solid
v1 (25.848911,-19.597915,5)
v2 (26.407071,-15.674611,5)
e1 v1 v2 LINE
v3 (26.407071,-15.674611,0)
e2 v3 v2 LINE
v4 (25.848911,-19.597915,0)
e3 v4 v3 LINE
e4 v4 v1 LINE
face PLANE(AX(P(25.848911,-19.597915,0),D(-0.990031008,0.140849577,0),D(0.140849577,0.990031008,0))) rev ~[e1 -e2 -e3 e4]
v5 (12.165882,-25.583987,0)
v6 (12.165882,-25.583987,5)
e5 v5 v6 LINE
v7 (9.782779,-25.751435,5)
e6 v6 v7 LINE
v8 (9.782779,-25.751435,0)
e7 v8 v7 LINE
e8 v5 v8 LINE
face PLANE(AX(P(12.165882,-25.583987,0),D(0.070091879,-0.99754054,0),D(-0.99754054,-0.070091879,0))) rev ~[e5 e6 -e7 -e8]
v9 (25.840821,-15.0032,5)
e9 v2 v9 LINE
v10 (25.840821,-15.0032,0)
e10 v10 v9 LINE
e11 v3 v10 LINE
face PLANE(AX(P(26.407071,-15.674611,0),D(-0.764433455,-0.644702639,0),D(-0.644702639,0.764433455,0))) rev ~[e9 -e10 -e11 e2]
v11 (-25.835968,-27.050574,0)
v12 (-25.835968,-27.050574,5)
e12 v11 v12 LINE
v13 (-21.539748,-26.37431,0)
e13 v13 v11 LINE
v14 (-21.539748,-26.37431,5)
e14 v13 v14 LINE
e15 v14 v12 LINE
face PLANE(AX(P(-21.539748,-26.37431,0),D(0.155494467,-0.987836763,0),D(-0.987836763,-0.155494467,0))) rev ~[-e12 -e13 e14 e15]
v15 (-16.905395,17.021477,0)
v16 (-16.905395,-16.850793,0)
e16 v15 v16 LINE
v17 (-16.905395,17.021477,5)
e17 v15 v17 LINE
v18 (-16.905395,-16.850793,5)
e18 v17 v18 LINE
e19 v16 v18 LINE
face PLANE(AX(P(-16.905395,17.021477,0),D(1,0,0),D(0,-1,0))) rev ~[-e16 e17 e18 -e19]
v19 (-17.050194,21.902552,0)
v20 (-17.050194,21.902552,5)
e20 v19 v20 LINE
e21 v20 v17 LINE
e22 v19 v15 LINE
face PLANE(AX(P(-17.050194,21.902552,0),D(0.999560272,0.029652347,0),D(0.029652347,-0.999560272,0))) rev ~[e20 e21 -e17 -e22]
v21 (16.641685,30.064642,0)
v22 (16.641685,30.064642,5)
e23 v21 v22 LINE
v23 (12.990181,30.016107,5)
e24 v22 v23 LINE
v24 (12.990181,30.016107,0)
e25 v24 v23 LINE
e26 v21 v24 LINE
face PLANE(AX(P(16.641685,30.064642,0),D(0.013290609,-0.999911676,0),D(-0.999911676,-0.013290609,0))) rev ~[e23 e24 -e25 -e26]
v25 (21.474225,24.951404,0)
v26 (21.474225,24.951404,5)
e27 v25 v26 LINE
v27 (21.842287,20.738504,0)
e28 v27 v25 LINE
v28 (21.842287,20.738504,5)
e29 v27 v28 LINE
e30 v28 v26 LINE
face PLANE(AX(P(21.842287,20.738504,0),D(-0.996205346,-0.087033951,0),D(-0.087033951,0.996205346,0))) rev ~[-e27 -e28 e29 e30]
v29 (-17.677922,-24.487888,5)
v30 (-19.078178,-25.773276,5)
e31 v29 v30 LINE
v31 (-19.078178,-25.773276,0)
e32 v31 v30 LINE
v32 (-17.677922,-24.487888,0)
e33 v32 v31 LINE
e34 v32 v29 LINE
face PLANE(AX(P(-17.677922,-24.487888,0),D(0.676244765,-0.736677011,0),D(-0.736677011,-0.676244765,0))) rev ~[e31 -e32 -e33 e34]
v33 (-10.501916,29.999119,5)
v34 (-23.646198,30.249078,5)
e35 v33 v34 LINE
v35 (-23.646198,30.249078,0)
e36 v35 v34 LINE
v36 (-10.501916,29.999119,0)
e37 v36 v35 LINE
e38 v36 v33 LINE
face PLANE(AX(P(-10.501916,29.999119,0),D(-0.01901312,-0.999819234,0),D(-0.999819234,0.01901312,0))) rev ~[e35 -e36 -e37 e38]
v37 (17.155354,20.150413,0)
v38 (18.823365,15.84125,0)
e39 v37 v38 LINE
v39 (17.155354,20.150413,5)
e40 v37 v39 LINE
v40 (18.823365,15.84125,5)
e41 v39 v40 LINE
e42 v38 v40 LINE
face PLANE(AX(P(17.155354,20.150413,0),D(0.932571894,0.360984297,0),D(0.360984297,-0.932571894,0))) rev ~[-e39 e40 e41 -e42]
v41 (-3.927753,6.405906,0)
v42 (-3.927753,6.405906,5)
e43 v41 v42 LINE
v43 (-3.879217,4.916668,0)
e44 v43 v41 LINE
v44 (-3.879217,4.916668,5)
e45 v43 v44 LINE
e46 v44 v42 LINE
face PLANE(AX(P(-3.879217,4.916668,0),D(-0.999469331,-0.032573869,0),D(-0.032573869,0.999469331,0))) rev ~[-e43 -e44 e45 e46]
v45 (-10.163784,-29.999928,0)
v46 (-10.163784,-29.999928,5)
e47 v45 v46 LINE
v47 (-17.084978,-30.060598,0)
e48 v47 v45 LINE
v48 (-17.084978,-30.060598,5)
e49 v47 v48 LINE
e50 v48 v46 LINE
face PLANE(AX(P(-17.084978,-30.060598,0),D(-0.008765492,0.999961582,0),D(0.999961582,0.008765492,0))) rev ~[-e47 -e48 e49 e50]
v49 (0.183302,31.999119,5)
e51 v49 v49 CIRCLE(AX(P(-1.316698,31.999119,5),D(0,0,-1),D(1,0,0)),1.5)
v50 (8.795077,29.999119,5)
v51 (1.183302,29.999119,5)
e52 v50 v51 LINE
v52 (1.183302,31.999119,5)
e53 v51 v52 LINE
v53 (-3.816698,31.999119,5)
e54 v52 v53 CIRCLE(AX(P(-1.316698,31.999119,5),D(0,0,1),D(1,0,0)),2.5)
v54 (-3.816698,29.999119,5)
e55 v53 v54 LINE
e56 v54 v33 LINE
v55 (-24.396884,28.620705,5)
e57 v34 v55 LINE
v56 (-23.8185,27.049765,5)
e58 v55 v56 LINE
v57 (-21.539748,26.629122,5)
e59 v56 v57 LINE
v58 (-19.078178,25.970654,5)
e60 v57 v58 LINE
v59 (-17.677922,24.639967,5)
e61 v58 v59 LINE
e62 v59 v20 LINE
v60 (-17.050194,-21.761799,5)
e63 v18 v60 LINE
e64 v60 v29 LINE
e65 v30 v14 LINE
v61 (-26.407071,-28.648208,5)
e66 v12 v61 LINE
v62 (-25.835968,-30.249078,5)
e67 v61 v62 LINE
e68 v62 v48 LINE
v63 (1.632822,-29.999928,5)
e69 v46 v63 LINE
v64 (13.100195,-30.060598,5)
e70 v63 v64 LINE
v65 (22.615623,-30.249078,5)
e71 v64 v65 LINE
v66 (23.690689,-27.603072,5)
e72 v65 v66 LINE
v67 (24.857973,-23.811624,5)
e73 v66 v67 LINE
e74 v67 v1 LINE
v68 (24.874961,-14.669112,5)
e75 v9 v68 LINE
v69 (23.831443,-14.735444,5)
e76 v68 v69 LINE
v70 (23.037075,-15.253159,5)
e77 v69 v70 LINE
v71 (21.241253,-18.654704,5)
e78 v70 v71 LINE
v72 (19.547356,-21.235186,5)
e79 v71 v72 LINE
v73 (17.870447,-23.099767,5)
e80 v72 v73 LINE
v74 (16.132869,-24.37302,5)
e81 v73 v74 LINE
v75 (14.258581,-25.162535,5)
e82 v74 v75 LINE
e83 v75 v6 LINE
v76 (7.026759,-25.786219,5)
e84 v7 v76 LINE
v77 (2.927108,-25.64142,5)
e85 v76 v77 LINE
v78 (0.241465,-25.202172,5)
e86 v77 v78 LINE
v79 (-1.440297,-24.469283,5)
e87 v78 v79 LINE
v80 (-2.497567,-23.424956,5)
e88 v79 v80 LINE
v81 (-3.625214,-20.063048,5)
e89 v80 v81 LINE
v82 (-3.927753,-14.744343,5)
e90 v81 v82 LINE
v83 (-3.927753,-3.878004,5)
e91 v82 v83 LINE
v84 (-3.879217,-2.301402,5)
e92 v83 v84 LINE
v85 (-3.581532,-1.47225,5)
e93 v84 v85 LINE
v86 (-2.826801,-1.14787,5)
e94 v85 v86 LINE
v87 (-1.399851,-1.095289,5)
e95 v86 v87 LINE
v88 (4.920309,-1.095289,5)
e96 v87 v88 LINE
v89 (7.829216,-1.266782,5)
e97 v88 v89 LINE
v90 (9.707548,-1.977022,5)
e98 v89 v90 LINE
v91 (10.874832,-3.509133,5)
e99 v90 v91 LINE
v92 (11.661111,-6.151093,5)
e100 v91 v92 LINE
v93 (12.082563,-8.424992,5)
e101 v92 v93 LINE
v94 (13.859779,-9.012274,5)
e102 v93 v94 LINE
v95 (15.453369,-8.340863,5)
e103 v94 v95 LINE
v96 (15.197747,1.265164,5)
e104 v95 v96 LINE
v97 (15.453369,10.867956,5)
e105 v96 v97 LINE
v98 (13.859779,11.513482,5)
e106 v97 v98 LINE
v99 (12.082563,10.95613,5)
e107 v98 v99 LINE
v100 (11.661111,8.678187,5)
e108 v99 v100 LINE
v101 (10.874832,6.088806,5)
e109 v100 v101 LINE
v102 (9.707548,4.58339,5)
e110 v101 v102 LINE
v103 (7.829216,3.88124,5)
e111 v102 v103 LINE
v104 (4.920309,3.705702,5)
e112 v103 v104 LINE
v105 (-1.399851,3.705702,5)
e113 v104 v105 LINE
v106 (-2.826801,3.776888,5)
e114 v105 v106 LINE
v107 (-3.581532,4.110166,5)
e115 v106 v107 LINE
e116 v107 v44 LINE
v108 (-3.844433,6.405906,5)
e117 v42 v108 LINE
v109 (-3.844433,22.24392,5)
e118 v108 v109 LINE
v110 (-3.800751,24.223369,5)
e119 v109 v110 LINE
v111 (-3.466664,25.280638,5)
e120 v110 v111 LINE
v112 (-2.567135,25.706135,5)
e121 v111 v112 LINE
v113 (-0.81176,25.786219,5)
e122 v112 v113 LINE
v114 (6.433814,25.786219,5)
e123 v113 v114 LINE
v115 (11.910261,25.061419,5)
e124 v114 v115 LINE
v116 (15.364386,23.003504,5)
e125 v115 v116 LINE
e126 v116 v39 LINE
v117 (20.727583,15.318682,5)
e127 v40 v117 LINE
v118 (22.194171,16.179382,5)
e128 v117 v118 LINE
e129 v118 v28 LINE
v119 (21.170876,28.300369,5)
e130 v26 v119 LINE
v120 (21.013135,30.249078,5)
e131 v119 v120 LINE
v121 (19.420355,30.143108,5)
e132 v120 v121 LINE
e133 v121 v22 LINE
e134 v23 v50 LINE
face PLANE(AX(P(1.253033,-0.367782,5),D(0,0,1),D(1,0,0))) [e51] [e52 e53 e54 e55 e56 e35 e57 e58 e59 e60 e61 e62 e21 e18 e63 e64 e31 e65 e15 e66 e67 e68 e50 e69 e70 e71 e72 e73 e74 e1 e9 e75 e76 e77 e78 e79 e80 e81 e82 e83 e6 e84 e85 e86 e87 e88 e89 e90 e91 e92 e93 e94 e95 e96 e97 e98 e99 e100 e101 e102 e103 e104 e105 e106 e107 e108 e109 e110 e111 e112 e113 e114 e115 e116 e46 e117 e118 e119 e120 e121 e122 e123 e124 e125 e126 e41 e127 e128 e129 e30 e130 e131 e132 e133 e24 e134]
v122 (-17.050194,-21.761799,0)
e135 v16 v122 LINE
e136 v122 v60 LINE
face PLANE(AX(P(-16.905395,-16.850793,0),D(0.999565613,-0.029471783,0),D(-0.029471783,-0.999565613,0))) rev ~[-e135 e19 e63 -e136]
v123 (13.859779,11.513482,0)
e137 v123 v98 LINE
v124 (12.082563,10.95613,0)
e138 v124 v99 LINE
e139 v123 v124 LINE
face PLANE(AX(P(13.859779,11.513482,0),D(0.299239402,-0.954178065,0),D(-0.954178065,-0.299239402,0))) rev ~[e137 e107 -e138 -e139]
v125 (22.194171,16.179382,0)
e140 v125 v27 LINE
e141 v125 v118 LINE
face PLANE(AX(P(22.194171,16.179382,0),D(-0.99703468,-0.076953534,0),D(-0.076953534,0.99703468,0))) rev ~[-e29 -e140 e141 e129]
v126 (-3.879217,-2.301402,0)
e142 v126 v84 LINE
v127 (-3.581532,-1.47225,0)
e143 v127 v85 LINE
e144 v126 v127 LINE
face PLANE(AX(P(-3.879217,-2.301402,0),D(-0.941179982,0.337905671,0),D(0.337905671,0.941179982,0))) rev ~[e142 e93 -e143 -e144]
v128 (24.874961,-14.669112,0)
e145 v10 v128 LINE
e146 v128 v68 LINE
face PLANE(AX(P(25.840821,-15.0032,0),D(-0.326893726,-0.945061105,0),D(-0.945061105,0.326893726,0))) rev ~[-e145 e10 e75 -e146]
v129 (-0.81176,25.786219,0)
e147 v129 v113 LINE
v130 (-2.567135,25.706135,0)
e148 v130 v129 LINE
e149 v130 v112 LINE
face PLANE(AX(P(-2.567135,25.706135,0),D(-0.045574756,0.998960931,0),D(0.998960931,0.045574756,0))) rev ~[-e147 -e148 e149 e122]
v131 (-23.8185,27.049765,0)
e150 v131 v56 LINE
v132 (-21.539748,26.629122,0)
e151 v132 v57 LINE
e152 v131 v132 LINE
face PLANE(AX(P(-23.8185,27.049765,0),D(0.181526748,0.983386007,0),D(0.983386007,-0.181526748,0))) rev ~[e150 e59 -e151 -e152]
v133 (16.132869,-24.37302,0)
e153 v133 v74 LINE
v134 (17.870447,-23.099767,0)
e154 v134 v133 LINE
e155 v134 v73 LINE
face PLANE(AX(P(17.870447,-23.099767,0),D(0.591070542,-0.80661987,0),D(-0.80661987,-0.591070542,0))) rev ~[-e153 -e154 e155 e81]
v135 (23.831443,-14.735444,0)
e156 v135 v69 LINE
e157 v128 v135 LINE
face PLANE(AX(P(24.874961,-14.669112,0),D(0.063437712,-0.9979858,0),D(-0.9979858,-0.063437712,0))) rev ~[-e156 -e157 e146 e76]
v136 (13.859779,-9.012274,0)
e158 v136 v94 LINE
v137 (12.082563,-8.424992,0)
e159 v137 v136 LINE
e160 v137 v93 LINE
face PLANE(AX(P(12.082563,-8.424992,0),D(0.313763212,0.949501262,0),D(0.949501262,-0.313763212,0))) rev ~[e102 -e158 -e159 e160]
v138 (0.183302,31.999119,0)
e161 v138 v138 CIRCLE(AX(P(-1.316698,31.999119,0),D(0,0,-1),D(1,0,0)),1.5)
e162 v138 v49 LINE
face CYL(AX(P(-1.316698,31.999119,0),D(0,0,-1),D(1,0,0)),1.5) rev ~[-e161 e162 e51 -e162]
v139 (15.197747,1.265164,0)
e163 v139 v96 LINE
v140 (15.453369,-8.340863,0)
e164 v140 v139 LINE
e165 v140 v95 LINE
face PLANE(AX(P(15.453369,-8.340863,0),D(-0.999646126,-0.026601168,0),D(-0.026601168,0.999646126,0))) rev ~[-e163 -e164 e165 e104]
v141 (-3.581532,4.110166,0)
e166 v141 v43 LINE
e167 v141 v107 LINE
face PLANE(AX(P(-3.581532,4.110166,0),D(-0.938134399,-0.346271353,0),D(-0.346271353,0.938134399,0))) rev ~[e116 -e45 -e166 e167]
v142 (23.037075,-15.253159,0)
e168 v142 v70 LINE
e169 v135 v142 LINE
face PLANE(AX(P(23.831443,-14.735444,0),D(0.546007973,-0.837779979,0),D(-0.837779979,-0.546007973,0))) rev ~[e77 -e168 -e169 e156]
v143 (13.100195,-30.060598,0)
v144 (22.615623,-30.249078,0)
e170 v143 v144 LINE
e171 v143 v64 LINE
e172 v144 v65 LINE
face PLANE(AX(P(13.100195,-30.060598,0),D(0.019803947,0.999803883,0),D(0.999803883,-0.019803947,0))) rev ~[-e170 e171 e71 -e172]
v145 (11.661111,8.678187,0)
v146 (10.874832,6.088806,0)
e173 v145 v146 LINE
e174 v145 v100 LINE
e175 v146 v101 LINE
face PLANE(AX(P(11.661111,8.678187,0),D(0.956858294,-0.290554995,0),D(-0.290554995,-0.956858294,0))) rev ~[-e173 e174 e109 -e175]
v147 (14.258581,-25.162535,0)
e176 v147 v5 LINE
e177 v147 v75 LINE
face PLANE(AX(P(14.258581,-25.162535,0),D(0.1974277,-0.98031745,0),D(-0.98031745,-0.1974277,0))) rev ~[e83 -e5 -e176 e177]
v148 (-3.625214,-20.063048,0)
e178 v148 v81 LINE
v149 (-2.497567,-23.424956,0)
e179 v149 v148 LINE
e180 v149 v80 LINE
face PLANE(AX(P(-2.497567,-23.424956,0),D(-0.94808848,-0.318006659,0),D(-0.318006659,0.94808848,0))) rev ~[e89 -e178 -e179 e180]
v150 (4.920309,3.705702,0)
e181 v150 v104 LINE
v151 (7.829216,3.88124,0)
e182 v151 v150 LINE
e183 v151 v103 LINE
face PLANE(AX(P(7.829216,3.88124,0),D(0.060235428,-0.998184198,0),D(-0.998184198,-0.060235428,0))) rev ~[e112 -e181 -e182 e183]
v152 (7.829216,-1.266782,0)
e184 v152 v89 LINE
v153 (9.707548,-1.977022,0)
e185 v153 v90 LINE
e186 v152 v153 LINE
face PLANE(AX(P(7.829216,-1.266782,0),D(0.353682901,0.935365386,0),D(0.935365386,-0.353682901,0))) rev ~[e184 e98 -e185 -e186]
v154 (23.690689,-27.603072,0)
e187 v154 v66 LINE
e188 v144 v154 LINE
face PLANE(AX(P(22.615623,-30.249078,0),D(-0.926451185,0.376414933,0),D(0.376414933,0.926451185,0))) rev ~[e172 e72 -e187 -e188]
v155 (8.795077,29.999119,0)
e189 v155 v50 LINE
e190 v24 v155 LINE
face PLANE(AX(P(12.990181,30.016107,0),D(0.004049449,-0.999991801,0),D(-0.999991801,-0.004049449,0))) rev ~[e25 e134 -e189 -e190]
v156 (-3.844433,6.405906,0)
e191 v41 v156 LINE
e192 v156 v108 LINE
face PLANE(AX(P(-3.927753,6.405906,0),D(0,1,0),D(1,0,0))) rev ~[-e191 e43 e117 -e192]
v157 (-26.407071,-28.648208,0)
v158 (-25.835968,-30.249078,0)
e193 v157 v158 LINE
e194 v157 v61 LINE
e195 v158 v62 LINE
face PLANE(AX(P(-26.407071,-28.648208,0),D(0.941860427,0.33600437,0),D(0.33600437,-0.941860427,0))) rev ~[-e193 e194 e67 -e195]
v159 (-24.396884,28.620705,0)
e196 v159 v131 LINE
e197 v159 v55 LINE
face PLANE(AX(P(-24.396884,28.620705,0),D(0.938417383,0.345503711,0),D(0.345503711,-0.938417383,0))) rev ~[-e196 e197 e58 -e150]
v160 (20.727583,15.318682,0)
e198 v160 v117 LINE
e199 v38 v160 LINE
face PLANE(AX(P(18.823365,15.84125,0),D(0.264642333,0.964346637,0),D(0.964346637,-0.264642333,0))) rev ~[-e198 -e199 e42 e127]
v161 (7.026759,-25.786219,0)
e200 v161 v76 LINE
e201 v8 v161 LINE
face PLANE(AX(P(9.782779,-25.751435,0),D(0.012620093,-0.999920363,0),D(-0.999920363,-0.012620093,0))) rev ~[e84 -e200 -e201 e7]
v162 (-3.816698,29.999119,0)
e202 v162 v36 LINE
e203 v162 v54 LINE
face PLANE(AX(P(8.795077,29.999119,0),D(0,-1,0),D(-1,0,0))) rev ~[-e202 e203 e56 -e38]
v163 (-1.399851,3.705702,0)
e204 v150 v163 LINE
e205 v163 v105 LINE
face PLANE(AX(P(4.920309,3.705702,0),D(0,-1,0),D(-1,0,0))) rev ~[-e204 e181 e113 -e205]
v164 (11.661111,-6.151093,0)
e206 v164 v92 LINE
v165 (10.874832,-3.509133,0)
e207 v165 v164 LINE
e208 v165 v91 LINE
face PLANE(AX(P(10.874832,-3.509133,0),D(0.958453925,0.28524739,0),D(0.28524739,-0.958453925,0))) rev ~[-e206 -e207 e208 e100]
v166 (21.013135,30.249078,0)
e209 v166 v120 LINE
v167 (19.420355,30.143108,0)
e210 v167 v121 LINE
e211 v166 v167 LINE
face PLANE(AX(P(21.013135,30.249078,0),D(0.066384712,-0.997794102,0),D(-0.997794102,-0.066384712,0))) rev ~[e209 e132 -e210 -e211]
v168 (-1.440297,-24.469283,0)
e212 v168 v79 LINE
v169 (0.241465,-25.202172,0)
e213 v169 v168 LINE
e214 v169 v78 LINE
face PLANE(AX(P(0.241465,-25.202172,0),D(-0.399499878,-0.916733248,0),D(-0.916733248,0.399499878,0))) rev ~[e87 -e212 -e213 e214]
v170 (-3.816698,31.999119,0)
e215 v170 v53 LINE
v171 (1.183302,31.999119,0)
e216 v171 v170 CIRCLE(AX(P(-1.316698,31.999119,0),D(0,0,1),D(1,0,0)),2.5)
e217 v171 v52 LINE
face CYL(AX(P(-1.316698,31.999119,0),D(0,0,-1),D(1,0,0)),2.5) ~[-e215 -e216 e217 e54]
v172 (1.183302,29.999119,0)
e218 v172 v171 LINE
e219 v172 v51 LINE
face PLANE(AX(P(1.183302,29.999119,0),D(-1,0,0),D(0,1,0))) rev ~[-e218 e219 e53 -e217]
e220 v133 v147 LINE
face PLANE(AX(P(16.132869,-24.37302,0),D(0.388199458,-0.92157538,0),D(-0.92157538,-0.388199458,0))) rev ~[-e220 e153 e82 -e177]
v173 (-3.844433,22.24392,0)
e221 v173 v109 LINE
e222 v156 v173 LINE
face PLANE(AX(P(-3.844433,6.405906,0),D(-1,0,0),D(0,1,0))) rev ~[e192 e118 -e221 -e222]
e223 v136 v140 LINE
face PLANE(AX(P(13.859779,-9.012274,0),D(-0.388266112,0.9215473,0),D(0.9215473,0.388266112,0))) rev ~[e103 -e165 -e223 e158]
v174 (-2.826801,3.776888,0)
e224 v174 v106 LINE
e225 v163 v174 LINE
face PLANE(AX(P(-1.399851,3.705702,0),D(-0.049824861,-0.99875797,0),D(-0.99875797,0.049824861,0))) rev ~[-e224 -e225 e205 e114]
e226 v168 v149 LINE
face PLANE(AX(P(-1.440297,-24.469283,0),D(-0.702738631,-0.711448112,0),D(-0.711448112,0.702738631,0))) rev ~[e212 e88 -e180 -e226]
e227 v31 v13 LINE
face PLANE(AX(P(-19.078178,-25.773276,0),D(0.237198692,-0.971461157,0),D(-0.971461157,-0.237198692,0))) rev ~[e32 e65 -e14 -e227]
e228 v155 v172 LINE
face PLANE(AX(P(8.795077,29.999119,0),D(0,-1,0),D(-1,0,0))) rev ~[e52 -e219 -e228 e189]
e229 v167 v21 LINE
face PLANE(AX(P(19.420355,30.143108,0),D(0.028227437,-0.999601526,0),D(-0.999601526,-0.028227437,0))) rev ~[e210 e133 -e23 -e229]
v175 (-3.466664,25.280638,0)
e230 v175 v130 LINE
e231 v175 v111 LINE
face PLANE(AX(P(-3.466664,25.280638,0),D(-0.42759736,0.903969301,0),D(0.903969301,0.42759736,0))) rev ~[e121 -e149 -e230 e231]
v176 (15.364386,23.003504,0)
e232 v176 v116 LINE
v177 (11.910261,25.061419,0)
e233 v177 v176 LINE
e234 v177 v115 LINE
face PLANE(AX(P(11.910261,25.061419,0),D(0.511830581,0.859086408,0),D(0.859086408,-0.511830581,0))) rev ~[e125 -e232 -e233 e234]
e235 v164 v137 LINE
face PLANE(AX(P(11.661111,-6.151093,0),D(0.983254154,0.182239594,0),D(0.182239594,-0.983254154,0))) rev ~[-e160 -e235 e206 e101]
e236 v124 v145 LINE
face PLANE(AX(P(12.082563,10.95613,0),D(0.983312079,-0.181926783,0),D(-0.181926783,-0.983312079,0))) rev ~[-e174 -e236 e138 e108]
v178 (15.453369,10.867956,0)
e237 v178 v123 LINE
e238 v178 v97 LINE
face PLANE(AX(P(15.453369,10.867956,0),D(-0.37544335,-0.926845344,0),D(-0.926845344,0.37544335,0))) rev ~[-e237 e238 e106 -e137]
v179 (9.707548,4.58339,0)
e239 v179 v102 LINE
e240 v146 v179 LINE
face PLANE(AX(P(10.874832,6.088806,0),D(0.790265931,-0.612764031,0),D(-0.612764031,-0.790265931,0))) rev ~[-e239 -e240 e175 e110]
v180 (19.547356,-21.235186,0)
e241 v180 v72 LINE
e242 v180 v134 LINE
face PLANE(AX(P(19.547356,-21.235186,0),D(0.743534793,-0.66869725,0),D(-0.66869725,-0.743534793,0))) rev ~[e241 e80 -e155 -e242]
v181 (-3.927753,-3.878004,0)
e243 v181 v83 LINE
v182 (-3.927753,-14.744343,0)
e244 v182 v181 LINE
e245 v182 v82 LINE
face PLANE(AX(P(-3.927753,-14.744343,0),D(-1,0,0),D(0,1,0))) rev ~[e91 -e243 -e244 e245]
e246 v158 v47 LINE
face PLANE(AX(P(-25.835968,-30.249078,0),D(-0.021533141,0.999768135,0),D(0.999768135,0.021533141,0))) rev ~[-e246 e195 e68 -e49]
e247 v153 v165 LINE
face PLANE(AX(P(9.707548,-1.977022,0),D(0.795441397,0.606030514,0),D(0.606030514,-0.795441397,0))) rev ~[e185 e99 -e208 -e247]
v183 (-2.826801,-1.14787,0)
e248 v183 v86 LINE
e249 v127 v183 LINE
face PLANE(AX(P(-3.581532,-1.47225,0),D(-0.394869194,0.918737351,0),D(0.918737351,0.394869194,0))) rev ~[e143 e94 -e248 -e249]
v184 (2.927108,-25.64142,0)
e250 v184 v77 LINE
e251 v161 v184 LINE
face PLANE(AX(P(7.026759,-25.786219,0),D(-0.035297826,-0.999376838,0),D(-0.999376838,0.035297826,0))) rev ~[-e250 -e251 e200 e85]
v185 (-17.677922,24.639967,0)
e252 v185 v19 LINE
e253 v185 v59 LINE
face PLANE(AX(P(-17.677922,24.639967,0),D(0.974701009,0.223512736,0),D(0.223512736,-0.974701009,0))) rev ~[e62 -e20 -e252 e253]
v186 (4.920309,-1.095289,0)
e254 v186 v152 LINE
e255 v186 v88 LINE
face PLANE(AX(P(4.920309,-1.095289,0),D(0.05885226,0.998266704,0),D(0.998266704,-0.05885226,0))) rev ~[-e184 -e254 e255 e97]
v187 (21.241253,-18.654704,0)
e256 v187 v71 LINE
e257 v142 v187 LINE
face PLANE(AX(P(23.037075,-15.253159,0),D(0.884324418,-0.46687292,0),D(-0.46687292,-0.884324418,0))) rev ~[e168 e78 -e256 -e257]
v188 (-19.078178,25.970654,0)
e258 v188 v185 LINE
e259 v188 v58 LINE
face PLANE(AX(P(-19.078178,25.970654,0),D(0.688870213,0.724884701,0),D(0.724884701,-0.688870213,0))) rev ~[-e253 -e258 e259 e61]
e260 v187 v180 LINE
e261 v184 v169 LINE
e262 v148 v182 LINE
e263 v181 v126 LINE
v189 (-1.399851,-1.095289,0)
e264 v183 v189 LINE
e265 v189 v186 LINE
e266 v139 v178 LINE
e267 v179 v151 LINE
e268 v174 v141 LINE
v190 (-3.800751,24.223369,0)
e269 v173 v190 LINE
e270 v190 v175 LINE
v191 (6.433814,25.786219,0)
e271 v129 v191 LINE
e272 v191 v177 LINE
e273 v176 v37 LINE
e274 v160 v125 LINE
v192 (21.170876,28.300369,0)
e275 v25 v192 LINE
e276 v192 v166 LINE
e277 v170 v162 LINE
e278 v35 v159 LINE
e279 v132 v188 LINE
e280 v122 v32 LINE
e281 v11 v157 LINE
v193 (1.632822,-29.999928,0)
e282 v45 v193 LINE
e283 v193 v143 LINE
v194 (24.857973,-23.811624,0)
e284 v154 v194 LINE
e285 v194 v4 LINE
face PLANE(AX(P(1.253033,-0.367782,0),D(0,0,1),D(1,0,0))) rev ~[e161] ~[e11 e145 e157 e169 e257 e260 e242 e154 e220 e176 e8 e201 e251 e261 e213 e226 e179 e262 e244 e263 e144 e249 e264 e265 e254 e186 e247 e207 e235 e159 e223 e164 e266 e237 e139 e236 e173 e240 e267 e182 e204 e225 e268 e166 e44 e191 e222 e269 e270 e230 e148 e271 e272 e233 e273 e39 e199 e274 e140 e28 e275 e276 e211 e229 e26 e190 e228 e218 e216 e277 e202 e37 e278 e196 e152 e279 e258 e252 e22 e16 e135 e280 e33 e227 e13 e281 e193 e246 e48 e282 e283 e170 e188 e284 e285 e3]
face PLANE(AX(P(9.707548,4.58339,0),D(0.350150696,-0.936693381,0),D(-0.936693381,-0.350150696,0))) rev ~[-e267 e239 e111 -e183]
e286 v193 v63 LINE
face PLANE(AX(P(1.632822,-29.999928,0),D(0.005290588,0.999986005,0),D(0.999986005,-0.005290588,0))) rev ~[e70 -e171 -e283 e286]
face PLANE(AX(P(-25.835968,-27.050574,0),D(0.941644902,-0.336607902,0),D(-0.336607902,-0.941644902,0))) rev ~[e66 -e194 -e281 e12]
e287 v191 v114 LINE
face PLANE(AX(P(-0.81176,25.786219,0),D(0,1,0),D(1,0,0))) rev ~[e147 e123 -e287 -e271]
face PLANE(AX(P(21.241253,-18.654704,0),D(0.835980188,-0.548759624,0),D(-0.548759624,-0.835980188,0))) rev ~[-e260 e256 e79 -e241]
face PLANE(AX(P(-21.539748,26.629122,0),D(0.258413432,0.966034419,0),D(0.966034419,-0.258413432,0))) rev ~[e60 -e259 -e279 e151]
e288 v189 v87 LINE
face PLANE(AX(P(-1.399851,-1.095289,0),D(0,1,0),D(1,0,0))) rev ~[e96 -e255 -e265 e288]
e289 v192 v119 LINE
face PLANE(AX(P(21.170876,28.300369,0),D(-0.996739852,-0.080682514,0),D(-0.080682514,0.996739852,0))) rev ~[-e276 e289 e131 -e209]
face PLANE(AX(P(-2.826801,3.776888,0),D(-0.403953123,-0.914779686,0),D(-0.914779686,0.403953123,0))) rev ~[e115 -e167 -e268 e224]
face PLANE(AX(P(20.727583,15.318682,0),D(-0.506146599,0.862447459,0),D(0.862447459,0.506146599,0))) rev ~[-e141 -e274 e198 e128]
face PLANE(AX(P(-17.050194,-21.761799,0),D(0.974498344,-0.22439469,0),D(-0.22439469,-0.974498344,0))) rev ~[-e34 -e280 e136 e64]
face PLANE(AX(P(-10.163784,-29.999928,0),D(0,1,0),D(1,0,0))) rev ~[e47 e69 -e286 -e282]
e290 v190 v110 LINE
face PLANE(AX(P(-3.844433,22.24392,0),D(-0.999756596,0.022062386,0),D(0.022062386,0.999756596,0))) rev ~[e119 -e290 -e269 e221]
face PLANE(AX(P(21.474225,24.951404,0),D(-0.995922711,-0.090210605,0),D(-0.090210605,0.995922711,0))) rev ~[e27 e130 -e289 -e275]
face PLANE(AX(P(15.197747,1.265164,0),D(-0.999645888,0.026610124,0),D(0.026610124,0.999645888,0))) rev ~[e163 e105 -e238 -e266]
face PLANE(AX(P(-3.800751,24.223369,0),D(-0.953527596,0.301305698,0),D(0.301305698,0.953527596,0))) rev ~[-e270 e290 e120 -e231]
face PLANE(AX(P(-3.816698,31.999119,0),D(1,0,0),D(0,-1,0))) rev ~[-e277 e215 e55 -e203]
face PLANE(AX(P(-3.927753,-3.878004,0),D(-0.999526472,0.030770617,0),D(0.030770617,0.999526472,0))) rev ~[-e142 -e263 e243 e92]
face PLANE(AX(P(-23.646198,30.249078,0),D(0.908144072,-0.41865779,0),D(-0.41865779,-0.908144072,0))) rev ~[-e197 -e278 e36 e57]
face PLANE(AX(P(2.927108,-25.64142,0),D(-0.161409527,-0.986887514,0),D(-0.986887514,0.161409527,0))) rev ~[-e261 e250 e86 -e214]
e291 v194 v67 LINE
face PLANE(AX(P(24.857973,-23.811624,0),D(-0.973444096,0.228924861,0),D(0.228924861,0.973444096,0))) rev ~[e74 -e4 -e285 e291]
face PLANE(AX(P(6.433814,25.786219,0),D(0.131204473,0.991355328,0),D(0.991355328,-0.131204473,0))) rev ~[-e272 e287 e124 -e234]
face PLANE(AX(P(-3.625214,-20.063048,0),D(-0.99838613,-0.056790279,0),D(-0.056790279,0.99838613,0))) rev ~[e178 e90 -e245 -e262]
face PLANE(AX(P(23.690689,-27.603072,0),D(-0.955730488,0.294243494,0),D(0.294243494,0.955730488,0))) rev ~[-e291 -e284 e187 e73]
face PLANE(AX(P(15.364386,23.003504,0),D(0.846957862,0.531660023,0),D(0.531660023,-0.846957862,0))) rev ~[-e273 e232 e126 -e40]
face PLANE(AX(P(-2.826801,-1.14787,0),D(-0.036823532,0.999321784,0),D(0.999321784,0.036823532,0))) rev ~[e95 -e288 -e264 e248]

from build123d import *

# Parameters (mm, degrees)
F1_DEPTH = 5
F3_DEPTH = 5


with BuildPart() as f1:
    # F0 (on Top) → F1 (new body)
    with BuildSketch(Plane.XY):
        Polygon((-3.879217, 4.916668), (-3.927753, 6.405906), (-3.844433, 6.405906), (-3.844433, 22.24392), (-3.800751, 24.223369), (-3.466664, 25.280638), (-2.567135, 25.706135), (-0.81176, 25.786219), (6.433814, 25.786219), (11.910261, 25.061419), (15.364386, 23.003504), (17.155354, 20.150413), (18.823365, 15.84125), (20.727583, 15.318682), (22.194171, 16.179382), (21.842287, 20.738504), (21.474225, 24.951404), (21.170876, 28.300369), (21.013135, 30.249078), (19.420355, 30.143108), (16.641685, 30.064642), (12.990181, 30.016107), (8.795077, 29.999119), (-10.501916, 29.999119), (-23.646198, 30.249078), (-24.396884, 28.620705), (-23.8185, 27.049765), (-21.539748, 26.629122), (-19.078178, 25.970654), (-17.677922, 24.639967), (-17.050194, 21.902552), (-16.905395, 17.021477), (-16.905395, -16.850793), (-17.050194, -21.761799), (-17.677922, -24.487888), (-19.078178, -25.773276), (-21.539748, -26.37431), (-25.835968, -27.050574), (-26.407071, -28.648208), (-25.835968, -30.249078), (-17.084978, -30.060598), (-10.163784, -29.999928), (1.632822, -29.999928), (13.100195, -30.060598), (22.615623, -30.249078), (23.690689, -27.603072), (24.857973, -23.811624), (25.848911, -19.597915), (26.407071, -15.674611), (25.840821, -15.0032), (24.874961, -14.669112), (23.831443, -14.735444), (23.037075, -15.253159), (21.241253, -18.654704), (19.547356, -21.235186), (17.870447, -23.099767), (16.132869, -24.37302), (14.258581, -25.162535), (12.165882, -25.583987), (9.782779, -25.751435), (7.026759, -25.786219), (2.927108, -25.64142), (0.241465, -25.202172), (-1.440297, -24.469283), (-2.497567, -23.424956), (-3.625214, -20.063048), (-3.927753, -14.744343), (-3.927753, -3.878004), (-3.879217, -2.301402), (-3.581532, -1.47225), (-2.826801, -1.14787), (-1.399851, -1.095289), (4.920309, -1.095289), (7.829216, -1.266782), (9.707548, -1.977022), (10.874832, -3.509133), (11.661111, -6.151093), (12.082563, -8.424992), (13.859779, -9.012274), (15.453369, -8.340863), (15.197747, 1.265164), (15.453369, 10.867956), (13.859779, 11.513482), (12.082563, 10.95613), (11.661111, 8.678187), (10.874832, 6.088806), (9.707548, 4.58339), (7.829216, 3.88124), (4.920309, 3.705702), (-1.399851, 3.705702), (-2.826801, 3.776888), (-3.581532, 4.110166), align=None)
    extrude(amount=F1_DEPTH)

    # F2 (on Top) → F3 (join)
    with BuildSketch(Plane.XY):
        with BuildLine():
            ThreePointArc((-2.816698, 31.999119), (-1.316698, 33.499119), (0.183302, 31.999119))
            Line((0.183302, 31.999119), (1.183302, 31.999119))
            ThreePointArc((1.183302, 31.999119), (-1.316698, 34.499119), (-3.816698, 31.999119))
            Line((-3.816698, 31.999119), (-2.816698, 31.999119))
        make_face()
        with BuildLine():
            Line((1.183302, 31.999119), (0.183302, 31.999119))
            ThreePointArc((0.183302, 31.999119), (-1.316698, 30.499119), (-2.816698, 31.999119))
            Line((-2.816698, 31.999119), (-3.816698, 31.999119))
            Line((-3.816698, 31.999119), (-3.816698, 29.999119))
            Line((-3.816698, 29.999119), (1.183302, 29.999119))
            Line((1.183302, 29.999119), (1.183302, 31.999119))
        make_face()
    extrude(amount=F3_DEPTH)


solid = f1.part
